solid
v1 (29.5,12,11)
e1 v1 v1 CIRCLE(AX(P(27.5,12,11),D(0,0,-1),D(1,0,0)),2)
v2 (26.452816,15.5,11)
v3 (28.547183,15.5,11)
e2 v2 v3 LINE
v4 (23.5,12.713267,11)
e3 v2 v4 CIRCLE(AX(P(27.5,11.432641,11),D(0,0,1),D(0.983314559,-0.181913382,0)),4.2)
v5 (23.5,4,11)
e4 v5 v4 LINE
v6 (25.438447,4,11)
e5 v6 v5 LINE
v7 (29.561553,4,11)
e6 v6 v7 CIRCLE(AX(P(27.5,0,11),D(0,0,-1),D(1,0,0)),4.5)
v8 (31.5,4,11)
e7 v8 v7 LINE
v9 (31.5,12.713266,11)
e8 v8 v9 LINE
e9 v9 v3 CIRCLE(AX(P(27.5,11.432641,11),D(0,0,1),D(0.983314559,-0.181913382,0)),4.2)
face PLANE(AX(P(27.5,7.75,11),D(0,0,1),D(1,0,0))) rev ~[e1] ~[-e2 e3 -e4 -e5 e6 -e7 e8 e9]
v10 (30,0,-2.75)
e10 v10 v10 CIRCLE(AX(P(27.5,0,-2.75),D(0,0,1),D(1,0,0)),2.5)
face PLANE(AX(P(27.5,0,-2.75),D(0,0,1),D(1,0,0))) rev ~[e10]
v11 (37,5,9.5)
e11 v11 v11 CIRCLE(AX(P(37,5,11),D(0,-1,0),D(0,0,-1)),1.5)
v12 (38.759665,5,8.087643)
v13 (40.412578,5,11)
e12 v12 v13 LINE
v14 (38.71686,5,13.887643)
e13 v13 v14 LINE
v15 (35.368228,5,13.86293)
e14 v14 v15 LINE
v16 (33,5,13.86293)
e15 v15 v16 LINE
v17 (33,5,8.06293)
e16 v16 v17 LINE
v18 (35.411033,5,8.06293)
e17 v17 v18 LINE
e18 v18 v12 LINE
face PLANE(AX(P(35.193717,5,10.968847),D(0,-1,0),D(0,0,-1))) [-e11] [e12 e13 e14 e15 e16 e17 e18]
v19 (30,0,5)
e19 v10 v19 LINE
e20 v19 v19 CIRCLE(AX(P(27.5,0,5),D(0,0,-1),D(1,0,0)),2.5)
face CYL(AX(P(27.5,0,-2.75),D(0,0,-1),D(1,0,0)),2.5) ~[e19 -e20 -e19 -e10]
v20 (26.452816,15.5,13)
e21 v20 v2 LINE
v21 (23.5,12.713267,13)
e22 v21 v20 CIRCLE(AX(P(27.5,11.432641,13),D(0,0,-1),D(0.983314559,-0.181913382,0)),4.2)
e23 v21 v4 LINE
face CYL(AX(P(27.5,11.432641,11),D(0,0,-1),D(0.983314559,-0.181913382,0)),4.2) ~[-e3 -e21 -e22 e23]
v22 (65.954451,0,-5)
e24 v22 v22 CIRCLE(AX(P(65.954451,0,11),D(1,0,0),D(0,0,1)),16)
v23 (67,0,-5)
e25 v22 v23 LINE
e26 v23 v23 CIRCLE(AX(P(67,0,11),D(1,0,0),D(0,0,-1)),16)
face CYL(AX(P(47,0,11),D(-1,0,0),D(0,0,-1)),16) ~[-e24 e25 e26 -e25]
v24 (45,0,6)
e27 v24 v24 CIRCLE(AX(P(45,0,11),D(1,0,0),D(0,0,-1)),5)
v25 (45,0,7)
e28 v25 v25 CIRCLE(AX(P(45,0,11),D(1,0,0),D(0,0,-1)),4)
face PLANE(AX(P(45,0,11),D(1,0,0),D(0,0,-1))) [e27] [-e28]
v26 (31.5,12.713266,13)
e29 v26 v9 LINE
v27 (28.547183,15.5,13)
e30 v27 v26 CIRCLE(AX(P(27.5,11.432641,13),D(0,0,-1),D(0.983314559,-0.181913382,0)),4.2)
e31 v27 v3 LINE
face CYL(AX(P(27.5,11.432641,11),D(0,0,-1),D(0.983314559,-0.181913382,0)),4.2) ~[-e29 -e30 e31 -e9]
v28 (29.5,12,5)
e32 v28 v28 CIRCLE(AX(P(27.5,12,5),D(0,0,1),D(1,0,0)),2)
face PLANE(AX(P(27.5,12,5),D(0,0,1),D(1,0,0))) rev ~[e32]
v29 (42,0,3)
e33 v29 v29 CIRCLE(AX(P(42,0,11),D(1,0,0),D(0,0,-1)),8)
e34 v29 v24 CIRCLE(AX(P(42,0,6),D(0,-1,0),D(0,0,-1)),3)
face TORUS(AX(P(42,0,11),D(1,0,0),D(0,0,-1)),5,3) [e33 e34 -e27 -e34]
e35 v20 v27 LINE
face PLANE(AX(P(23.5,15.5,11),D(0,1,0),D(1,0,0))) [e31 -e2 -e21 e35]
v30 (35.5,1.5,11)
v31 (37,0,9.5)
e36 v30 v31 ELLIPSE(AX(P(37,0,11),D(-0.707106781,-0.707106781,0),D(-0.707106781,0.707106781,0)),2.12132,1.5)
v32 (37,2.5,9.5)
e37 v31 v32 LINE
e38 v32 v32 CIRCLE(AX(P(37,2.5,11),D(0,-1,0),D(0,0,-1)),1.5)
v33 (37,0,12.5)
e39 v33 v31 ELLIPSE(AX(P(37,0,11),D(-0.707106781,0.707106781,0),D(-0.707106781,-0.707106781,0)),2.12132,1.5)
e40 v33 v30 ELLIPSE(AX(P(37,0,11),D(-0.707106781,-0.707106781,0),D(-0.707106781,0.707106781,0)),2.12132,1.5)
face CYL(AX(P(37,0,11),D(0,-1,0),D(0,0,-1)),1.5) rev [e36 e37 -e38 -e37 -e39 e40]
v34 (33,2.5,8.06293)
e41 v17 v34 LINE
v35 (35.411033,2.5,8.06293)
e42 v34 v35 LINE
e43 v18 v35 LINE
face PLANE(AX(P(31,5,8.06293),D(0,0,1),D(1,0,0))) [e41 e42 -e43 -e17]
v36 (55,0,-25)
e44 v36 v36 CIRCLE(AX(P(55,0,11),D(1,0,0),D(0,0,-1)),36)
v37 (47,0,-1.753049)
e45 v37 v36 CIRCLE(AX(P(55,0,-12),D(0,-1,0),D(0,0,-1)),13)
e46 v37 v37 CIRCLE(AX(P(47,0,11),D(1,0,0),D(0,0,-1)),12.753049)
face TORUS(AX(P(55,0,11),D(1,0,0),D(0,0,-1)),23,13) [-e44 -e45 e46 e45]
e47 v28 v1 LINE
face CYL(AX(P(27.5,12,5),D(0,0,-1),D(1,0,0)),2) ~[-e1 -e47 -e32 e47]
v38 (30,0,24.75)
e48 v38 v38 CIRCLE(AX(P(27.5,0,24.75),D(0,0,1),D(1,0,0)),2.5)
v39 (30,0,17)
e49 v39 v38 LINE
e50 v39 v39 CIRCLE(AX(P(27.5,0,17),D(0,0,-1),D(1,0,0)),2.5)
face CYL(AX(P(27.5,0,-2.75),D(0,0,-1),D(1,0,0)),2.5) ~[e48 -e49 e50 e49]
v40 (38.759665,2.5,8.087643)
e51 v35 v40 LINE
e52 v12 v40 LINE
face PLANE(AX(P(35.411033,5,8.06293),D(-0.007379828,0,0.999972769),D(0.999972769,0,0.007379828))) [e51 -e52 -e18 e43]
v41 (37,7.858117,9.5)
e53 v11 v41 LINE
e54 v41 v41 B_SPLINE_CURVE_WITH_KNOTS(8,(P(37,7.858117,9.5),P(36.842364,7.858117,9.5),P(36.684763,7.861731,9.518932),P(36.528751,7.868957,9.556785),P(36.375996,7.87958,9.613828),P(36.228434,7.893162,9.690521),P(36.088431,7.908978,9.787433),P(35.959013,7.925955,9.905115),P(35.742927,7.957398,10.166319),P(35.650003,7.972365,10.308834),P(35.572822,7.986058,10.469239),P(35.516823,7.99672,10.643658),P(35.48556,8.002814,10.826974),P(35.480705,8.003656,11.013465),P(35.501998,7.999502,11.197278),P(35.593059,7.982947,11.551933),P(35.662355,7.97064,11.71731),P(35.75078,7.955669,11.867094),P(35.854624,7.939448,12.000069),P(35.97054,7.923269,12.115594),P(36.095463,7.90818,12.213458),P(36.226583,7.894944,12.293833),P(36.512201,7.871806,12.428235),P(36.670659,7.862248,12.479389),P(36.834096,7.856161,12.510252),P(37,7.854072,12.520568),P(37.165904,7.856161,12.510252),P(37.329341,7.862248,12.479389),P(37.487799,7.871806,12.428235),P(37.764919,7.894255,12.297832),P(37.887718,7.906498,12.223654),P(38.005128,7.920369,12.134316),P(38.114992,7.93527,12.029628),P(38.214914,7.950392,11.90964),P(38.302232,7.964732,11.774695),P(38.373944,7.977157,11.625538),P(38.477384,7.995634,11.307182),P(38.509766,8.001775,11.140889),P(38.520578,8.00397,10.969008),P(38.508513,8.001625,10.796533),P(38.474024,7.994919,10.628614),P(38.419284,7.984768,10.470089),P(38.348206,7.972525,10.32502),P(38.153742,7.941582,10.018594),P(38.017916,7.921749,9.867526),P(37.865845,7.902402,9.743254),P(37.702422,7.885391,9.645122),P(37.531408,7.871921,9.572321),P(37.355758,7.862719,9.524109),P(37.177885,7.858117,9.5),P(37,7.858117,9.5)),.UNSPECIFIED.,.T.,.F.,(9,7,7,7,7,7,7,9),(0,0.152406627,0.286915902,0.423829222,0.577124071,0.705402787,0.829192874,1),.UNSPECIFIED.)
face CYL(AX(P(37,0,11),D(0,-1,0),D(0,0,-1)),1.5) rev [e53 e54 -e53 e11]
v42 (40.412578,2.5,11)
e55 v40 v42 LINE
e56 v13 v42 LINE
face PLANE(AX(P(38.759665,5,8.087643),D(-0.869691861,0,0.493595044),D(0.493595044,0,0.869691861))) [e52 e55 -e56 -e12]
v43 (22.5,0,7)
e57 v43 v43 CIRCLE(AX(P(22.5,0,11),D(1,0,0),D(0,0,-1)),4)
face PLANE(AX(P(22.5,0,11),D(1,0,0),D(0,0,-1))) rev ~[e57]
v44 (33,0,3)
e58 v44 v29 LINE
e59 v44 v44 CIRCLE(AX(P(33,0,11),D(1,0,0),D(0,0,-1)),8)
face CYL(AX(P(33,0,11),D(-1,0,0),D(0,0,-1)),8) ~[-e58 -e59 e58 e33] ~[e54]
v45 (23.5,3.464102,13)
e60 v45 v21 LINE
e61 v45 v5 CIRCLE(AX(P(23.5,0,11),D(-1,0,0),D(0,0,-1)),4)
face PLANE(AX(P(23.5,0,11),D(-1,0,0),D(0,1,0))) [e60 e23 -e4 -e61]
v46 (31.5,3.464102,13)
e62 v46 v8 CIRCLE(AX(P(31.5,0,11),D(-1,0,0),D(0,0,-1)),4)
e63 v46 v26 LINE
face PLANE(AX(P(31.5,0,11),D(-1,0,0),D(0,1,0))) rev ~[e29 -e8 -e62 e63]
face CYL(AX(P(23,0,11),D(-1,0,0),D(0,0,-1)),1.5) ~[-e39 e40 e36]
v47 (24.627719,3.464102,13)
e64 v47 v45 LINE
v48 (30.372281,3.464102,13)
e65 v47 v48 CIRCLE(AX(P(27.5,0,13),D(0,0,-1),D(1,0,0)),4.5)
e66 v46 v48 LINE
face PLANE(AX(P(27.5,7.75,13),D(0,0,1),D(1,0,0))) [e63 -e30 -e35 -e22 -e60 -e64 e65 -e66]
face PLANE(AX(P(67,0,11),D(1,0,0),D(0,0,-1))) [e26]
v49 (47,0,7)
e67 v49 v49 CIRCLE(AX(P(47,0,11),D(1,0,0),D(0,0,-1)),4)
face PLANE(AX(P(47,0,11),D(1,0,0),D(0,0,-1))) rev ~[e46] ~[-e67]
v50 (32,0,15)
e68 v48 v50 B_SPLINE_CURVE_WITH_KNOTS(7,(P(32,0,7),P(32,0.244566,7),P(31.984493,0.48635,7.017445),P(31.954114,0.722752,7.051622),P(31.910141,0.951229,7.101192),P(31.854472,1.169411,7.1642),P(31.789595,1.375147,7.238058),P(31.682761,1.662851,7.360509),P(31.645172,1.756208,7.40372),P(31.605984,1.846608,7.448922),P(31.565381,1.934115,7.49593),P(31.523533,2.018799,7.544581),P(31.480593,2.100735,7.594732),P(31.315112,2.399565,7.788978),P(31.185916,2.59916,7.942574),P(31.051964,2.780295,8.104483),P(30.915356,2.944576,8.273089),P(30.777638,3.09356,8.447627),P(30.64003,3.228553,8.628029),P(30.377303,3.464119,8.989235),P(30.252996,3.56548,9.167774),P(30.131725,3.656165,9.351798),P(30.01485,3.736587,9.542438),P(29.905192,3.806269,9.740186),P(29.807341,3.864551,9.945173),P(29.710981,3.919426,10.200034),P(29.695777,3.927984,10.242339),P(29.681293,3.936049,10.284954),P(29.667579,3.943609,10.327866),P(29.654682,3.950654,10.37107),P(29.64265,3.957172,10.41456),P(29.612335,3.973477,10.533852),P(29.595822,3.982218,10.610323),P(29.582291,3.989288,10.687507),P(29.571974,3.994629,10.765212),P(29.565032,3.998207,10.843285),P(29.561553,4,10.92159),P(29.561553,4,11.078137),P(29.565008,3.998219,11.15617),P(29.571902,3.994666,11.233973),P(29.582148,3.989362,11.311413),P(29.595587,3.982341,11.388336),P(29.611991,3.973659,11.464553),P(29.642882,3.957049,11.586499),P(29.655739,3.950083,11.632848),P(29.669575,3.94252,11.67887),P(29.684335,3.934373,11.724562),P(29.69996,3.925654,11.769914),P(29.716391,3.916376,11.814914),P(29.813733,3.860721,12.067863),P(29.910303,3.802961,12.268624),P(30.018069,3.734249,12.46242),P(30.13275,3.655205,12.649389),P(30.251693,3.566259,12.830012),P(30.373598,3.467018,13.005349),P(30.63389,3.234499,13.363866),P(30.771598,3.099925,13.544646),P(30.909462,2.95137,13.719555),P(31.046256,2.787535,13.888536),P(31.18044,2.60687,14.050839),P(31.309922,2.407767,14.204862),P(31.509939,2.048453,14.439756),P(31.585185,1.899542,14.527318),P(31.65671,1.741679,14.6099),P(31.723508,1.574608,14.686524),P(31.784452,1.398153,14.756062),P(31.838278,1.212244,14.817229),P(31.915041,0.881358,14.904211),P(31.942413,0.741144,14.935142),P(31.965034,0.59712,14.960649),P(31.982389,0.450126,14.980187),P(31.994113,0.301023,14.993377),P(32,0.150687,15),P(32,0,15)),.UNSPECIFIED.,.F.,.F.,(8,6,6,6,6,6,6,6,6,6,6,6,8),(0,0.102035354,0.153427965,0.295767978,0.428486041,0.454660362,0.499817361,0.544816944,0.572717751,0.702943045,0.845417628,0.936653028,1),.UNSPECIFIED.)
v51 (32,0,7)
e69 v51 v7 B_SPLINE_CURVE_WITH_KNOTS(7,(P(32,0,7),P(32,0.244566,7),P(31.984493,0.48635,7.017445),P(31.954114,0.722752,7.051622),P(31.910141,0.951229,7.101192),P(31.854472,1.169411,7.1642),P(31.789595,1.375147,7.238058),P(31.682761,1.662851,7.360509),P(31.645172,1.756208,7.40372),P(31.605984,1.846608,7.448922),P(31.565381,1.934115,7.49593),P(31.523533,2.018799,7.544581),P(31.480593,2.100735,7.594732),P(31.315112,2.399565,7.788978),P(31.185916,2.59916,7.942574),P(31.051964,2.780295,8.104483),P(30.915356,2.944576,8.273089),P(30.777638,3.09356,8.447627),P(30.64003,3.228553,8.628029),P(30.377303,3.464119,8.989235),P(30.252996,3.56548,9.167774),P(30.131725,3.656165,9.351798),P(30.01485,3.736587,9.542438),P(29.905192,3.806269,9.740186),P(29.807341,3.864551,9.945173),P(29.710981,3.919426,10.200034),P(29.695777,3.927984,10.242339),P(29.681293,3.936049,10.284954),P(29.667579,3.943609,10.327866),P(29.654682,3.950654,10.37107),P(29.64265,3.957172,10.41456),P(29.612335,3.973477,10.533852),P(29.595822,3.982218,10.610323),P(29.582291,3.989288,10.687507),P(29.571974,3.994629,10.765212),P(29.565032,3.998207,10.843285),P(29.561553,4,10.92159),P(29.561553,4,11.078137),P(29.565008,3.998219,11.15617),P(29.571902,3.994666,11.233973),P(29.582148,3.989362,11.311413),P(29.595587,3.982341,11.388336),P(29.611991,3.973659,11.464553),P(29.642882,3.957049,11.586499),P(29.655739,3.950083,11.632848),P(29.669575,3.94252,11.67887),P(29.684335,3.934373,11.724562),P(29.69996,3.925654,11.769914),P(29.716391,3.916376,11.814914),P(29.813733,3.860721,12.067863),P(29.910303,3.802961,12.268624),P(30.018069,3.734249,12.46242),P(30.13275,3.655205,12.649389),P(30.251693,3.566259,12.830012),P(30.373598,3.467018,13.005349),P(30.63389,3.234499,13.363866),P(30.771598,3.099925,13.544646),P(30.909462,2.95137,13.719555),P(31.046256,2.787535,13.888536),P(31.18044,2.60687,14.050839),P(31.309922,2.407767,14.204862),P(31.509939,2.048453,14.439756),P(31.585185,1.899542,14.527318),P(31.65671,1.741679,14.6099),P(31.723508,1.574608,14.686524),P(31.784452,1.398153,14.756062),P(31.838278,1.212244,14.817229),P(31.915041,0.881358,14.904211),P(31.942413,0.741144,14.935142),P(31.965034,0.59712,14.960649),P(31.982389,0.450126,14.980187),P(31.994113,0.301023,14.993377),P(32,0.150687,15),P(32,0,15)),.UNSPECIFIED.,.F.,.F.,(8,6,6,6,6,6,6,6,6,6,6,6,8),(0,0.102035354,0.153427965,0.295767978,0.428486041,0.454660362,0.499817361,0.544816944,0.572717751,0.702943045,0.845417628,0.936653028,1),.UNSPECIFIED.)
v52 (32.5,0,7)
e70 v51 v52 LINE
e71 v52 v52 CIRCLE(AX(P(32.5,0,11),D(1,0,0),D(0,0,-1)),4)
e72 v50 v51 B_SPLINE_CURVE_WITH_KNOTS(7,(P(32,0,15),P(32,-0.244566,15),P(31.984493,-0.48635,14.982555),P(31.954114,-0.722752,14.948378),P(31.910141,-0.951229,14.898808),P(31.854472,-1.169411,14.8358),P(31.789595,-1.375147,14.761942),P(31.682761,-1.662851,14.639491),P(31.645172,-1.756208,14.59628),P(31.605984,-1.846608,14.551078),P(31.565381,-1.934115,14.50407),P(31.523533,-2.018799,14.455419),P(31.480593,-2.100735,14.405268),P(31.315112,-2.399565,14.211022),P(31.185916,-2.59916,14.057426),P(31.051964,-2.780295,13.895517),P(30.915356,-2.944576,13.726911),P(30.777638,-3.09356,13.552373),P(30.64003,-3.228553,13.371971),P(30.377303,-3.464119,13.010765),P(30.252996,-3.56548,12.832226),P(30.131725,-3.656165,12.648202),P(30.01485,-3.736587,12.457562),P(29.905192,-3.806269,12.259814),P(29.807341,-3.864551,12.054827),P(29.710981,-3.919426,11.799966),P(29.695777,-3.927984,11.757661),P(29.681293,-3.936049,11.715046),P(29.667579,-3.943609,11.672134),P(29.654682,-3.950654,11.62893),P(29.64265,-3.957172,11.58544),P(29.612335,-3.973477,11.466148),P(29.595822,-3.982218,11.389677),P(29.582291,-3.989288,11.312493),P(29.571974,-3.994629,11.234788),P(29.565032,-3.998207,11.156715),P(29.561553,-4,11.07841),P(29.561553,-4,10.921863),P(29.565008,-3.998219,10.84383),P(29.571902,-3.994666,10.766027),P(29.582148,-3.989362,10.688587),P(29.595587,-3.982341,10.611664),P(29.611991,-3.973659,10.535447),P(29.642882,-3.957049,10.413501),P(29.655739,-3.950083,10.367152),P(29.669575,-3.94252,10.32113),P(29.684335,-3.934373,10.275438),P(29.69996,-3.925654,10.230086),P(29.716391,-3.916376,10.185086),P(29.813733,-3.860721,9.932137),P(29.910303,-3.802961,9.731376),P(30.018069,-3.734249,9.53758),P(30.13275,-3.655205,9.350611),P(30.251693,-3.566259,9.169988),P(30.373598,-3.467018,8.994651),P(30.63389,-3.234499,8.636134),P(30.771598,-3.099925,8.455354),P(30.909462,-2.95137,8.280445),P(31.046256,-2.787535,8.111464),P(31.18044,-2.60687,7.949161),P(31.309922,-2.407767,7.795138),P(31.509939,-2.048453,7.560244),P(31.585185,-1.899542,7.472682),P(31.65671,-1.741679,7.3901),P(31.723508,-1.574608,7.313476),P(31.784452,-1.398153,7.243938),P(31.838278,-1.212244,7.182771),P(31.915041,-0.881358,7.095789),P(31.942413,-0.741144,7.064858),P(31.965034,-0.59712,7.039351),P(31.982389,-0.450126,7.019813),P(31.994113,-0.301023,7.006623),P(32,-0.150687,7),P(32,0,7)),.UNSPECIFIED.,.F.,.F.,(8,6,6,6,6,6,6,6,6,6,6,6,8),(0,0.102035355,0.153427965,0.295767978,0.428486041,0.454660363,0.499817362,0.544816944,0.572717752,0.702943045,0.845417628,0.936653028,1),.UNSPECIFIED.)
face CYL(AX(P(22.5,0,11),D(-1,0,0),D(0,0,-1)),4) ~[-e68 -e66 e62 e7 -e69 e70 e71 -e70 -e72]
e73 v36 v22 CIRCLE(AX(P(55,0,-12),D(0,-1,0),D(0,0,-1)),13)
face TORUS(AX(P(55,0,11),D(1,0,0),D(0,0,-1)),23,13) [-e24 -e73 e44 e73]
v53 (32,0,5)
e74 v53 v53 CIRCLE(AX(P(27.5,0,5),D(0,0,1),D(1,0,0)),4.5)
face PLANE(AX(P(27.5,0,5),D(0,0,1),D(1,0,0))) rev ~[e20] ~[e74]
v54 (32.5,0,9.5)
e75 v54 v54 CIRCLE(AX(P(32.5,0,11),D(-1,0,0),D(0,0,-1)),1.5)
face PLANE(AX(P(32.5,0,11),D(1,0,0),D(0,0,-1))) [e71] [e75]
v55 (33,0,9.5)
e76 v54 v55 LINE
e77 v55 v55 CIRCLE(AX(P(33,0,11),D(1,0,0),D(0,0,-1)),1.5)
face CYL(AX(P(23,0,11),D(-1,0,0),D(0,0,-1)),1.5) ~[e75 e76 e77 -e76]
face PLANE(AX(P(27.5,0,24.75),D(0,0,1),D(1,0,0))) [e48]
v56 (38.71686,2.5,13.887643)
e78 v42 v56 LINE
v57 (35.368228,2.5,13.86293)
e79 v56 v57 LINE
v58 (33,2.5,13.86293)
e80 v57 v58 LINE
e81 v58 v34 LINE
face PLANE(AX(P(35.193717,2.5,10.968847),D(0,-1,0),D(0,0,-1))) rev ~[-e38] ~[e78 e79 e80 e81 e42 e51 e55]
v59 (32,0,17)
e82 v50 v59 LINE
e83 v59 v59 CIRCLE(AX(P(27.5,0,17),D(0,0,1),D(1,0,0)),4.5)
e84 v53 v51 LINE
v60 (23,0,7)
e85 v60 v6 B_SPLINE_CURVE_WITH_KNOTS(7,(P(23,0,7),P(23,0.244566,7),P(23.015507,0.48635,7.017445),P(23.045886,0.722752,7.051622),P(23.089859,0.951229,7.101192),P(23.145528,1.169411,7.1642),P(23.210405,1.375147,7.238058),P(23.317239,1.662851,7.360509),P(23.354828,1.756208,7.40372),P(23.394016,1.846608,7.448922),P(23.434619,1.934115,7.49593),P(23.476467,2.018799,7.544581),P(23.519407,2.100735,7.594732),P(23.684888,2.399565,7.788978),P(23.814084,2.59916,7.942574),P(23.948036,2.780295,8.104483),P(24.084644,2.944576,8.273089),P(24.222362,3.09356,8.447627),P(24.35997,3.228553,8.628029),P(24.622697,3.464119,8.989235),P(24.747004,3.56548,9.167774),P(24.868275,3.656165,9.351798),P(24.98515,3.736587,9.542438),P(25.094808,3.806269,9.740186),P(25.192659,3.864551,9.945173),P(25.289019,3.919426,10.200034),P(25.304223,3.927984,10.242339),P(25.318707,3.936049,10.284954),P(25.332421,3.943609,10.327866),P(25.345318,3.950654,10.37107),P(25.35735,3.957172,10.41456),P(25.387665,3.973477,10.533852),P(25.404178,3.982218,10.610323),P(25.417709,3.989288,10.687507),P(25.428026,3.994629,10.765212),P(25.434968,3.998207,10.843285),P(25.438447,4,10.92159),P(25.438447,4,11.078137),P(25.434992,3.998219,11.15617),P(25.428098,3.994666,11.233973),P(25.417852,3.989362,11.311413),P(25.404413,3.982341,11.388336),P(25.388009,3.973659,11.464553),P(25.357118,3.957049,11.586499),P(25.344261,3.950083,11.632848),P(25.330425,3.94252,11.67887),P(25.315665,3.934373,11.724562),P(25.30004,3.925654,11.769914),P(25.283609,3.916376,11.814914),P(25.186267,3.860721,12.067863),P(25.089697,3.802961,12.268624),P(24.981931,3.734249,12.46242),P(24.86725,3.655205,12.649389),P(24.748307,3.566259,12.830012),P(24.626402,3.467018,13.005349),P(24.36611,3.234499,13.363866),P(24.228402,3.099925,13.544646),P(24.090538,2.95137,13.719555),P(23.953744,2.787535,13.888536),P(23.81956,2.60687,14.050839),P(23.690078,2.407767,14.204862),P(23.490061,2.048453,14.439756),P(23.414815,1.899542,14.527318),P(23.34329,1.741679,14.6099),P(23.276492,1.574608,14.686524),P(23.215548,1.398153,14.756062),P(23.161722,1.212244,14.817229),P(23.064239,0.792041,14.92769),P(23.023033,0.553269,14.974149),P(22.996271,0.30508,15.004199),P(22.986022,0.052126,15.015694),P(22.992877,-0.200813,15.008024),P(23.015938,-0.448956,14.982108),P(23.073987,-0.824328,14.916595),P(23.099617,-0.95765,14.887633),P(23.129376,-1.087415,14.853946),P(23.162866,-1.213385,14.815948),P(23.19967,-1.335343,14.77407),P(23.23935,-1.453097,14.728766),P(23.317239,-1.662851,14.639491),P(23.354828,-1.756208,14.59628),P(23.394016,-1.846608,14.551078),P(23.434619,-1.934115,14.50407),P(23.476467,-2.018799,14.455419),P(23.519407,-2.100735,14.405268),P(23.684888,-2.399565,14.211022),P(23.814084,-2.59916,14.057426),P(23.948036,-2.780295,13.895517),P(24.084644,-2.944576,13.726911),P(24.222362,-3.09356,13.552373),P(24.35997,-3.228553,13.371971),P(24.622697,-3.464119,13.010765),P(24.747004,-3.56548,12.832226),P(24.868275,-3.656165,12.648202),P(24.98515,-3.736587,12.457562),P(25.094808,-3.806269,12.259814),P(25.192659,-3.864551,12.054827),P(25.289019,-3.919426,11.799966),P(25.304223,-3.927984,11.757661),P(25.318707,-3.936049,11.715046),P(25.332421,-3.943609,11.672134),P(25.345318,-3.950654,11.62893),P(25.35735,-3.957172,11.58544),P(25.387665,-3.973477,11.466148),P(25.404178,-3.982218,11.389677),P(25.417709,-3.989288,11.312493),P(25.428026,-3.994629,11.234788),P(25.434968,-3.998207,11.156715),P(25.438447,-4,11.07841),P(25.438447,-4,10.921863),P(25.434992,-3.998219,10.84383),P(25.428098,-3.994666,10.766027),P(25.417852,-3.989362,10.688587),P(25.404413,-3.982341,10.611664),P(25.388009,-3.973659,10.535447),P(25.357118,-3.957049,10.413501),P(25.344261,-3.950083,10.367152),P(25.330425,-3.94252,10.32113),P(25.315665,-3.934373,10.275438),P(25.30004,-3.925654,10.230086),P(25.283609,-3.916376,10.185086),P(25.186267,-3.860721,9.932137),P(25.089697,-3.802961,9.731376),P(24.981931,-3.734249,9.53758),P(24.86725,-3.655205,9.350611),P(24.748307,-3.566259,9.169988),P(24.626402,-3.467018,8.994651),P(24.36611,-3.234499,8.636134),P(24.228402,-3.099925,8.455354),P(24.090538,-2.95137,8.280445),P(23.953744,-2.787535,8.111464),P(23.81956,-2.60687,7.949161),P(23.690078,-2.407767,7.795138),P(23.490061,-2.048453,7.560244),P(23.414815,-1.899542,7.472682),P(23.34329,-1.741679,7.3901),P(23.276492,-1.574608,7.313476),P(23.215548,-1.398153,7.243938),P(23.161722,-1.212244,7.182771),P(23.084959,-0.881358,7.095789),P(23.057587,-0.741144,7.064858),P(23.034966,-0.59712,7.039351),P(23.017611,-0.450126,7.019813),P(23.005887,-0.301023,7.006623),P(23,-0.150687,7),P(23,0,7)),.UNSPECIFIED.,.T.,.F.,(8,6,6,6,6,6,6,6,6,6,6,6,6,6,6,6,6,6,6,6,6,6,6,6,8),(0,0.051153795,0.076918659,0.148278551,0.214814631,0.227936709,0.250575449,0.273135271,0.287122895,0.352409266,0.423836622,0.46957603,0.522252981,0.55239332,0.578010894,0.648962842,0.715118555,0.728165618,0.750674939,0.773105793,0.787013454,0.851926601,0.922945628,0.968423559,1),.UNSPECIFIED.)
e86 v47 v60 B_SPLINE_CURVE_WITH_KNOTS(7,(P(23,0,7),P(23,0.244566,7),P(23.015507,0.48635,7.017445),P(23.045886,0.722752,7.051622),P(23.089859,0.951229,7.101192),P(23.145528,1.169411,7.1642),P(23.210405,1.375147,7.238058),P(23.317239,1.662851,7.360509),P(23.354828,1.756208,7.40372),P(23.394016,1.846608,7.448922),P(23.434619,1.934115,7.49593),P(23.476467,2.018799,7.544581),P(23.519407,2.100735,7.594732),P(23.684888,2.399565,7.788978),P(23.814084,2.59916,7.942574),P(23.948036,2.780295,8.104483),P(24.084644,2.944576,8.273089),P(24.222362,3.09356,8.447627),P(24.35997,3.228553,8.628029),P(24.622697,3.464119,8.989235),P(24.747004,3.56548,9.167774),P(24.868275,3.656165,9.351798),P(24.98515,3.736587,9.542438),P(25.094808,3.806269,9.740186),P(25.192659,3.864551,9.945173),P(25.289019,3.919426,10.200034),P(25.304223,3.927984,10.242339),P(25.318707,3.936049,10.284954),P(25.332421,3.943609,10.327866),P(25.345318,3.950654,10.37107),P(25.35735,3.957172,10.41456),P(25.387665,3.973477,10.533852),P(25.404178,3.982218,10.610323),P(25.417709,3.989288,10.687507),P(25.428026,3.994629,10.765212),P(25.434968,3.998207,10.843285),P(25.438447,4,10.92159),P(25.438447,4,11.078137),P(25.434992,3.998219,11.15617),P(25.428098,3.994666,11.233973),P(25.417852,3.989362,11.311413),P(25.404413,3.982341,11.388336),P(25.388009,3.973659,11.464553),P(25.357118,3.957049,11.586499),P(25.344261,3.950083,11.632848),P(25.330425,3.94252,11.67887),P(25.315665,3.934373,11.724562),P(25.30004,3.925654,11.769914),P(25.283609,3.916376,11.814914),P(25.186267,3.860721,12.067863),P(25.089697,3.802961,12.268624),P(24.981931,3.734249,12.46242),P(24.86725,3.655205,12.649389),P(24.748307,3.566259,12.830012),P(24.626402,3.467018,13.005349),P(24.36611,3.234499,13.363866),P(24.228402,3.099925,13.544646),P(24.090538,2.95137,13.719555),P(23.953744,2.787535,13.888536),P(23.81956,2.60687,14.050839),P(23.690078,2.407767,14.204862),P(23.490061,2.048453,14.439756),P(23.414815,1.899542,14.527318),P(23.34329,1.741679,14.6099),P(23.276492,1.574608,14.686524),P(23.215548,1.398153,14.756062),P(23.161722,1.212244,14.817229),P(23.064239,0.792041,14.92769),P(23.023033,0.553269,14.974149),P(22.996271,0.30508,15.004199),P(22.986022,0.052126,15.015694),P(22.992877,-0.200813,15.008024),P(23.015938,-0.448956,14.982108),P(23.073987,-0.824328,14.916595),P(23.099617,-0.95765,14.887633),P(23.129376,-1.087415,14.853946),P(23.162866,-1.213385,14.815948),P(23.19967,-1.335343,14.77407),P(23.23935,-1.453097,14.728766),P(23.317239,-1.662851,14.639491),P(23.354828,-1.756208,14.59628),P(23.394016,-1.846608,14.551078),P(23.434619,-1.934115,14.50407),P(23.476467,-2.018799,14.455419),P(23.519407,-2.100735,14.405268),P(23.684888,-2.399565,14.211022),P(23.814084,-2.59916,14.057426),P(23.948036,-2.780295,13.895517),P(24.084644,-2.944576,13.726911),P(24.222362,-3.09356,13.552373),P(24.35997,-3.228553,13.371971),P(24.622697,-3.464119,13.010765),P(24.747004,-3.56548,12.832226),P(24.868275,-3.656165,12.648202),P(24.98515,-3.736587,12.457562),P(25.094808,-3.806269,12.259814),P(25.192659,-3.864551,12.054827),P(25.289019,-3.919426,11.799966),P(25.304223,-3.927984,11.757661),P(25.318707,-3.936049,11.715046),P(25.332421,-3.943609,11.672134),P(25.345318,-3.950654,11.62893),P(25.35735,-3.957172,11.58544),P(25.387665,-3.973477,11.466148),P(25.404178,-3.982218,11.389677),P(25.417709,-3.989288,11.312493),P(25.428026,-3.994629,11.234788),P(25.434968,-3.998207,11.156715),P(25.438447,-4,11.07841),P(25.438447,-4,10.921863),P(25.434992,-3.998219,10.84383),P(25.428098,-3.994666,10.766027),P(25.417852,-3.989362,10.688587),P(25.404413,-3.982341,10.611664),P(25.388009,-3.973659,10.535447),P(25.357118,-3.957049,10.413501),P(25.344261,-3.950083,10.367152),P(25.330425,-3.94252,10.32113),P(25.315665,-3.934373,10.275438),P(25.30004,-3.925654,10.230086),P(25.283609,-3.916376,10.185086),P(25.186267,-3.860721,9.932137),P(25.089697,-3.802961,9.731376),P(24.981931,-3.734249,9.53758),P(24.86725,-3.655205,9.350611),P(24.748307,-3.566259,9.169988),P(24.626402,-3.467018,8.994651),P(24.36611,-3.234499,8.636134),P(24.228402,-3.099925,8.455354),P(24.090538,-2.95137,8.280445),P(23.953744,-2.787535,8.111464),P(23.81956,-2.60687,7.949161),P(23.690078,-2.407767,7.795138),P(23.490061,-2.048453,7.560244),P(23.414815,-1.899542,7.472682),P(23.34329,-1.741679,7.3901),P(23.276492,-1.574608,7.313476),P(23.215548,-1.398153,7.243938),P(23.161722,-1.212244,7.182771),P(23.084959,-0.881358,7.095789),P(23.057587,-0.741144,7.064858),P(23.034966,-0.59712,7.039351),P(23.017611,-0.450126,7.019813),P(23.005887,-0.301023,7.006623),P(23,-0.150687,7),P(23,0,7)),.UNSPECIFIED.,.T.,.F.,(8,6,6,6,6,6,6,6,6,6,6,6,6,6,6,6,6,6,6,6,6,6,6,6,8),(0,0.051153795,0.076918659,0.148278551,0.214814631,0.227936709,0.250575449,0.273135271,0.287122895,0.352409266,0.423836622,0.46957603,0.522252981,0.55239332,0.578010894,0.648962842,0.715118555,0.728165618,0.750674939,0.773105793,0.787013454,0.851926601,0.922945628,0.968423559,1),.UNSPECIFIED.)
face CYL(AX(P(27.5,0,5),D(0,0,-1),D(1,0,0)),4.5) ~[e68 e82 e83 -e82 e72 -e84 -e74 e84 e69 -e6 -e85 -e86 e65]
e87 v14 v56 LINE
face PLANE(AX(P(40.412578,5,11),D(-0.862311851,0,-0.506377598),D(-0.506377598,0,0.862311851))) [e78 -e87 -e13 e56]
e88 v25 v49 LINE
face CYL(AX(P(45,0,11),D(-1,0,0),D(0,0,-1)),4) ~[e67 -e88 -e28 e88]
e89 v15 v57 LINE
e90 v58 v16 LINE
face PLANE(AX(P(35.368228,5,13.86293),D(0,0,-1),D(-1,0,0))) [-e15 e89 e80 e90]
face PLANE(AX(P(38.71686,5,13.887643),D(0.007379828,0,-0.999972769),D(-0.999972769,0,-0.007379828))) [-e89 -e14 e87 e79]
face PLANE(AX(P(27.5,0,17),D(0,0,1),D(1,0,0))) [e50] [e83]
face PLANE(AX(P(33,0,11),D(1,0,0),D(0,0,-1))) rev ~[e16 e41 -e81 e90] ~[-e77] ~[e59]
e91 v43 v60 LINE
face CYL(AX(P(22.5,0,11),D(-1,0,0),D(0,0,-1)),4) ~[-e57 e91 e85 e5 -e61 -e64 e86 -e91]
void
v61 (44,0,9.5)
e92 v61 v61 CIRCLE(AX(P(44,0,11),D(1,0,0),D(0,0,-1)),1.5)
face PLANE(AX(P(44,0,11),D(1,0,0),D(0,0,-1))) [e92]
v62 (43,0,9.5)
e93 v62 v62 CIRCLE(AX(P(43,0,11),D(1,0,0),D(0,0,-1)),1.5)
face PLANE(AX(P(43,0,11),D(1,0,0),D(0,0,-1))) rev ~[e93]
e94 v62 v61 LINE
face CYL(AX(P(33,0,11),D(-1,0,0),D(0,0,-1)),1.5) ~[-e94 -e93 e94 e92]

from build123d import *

# Parameters (mm, degrees)
TORUS001_R                = 13
CYLINDER001_R             = 4.5
CYLINDER001_DEPTH         = 12
CYLINDER002_R             = 4
CYLINDER002_DEPTH         = 10
PAD001_DEPTH              = 10
BOX_W                     = 8
BOX_H                     = 15.5
BOX_DEPTH                 = 2
CYLINDER004_R             = 2
CYLINDER004_DEPTH         = 7.5
CYLINDER_R                = 2.5
CYLINDER_DEPTH            = 27.5
CYLINDER003_R             = 1.5
CYLINDER003_DEPTH         = 20
CYLINDER016_R             = 4
CYLINDER016_DEPTH         = 2
BOX003_W                  = 4.6
BOX003_H                  = 1.7
BOX003_DEPTH              = 15
FILLET001_R               = 1
BOX002_W                  = 1.7
BOX002_H                  = 4.6
BOX002_DEPTH              = 15
FILLET_R                  = 1
CYLINDER017_R             = 1.5
CYLINDER017_DEPTH         = 10
PAD003_DEPTH              = 2.5
CYLINDER015_R             = 1.5
CYLINDER015_DEPTH         = 11
CYLINDER014_R             = 8
CYLINDER014_DEPTH         = 12
FILLET002_R               = 3
FUSION005_PLACEMENT_ANGLE = 90
CYLINDER012_R             = 16
CYLINDER012_DEPTH         = 20


with BuildPart() as toro001:
    # Torus001 → Torus001 (revolve)
    with BuildSketch(Plane(origin=(55, 0, 11), x_dir=(0, 0, -1), z_dir=(0, -1, 0))):
        with Locations((23, 0)):
            Circle(TORUS001_R)
    revolve(axis=Axis((55, 0, 11), (1, 0, 0)))


with BuildPart() as cilindro001:
    # Cylinder001 → Cylinder001 (new body)
    with BuildSketch(Plane.XY.offset(-6)):
        Circle(CYLINDER001_R)
    extrude(amount=CYLINDER001_DEPTH)


with BuildPart() as cilindro002:
    # Cylinder002 → Cylinder002 (new body)
    with BuildSketch(Plane(origin=(-5, 0, 0), x_dir=(0, 0, -1), z_dir=(1, 0, 0))):
        Circle(CYLINDER002_R)
    extrude(amount=CYLINDER002_DEPTH)


with BuildPart() as pad001:
    # Sketch001 → Pad001 (new body)
    with BuildSketch(Plane.XY):
        with BuildLine():
            ThreePointArc((4.129921, 10.668605), (-0.003253, 15.63264), (-4.128733, 10.662209))
            Line((-5.229172, 10.780737), (-4.128733, 10.662209))
            Line((-5.229172, 16.944185), (-5.229172, 10.780737))
            Line((5.596368, 16.944185), (-5.229172, 16.944185))
            Line((5.596368, 10.638987), (5.596368, 16.944185))
            Line((4.124442, 10.638987), (5.596368, 10.638987))
            Line((4.129921, 10.668605), (4.124442, 10.638987))
        make_face()
    extrude(amount=PAD001_DEPTH)


with BuildPart() as cut:
    # Box → Box (new body)
    with BuildSketch(Plane(origin=(-4, 0, 0), x_dir=(1, 0, 0), z_dir=(0, 0, 1))):
        with Locations((4, 7.75)):
            Rectangle(BOX_W, BOX_H)
    extrude(amount=BOX_DEPTH)

    # Cut: cut Pad001
    add(pad001.part, mode=Mode.SUBTRACT)


with BuildPart() as cilindro004:
    # Cylinder004 → Cylinder004 (new body)
    with BuildSketch(Plane(origin=(0, 12, -6), x_dir=(1, 0, 0), z_dir=(0, 0, 1))):
        Circle(CYLINDER004_R)
    extrude(amount=CYLINDER004_DEPTH)


with BuildPart() as fusion:
    # Cylinder → Cylinder (new body)
    with BuildSketch(Plane.XY.offset(-13.75)):
        Circle(CYLINDER_R)
    extrude(amount=CYLINDER_DEPTH)

    # Fusion: union Cilindro001, Cilindro002, Cut, Cilindro004
    add(cilindro001.part)
    add(cilindro002.part)
    add(cut.part)
    add(cilindro004.part)


with BuildPart() as fusion_1:
    # Fusion placement: moved
    add(fusion.part.moved(Location((27.5, 0, 11))))


with BuildPart() as cylinder003:
    # Cylinder003 → Cylinder003 (new body)
    with BuildSketch(Plane(origin=(23, 0, 11), x_dir=(0, 0, -1), z_dir=(1, 0, 0))):
        Circle(CYLINDER003_R)
    extrude(amount=CYLINDER003_DEPTH)


with BuildPart() as cilindro014:
    # Cylinder016 → Cylinder016 (new body)
    with BuildSketch(Plane.XY.offset(12)):
        Circle(CYLINDER016_R)
    extrude(amount=CYLINDER016_DEPTH)


with BuildPart() as fillet001:
    # Box003 → Box003 (new body)
    with BuildSketch(Plane(origin=(-2.3, -0.85, 22), x_dir=(1, 0, 0), z_dir=(0, 0, 1))):
        with Locations((2.3, 0.85)):
            Rectangle(BOX003_W, BOX003_H)
    extrude(amount=BOX003_DEPTH)

    # Fillet001
    fillet001_edges = [fillet001.edges().sort_by_distance(p)[0] for p in [
        (-2.3, 0, 37),
        (2.3, 0, 37),
    ]]
    fillet(fillet001_edges, radius=FILLET001_R)


with BuildPart() as fusion003:
    # Box002 → Box002 (new body)
    with BuildSketch(Plane(origin=(-0.85, -2.3, 22), x_dir=(1, 0, 0), z_dir=(0, 0, 1))):
        with Locations((0.85, 2.3)):
            Rectangle(BOX002_W, BOX002_H)
    extrude(amount=BOX002_DEPTH)

    # Fillet
    fillet_edges = [fusion003.edges().sort_by_distance(p)[0] for p in [
        (0, -2.3, 37),
        (0, 2.3, 37),
    ]]
    fillet(fillet_edges, radius=FILLET_R)

    # Fusion003: union Fillet001
    add(fillet001.part)


with BuildPart() as fusion003_1:
    # Fusion003 placement: moved
    add(fusion003.part.moved(Location((0, 0, -8))))


with BuildPart() as taladro_tornillo:
    # Cylinder017 → Cylinder017 (new body)
    with BuildSketch(Plane(origin=(0, 0, 4), x_dir=(1, 0, 0), z_dir=(0, 1, 0))):
        Circle(CYLINDER017_R)
    extrude(amount=CYLINDER017_DEPTH)


with BuildPart() as tuerca:
    # Sketch004 → Pad003 (new body)
    with BuildSketch(Plane(origin=(0, 5, -2), x_dir=(1, 0, 0), z_dir=(0, -1, 0))):
        Polygon((0, 9.412578), (-2.887643, 7.71686), (-2.86293, 4.368228), (-2.86293, 0), (2.93707, 0), (2.93707, 4.411033), (2.912357, 7.759665), align=None)
    extrude(amount=PAD003_DEPTH)


with BuildPart() as hueco:
    # Cylinder015 → Cylinder015 (new body)
    with BuildSketch(Plane.XY):
        Circle(CYLINDER015_R)
    extrude(amount=CYLINDER015_DEPTH)

    # Fusion004: union Taladro tornillo, Tuerca
    add(taladro_tornillo.part)
    add(tuerca.part)


with BuildPart() as fusion005:
    # Cylinder014 → Cylinder014 (new body)
    with BuildSketch(Plane.XY):
        Circle(CYLINDER014_R)
    extrude(amount=CYLINDER014_DEPTH)

    # Fillet002
    fillet002_edges = [fusion005.edges().sort_by_distance(p)[0] for p in [
        (-8, 0, 12),
    ]]
    fillet(fillet002_edges, radius=FILLET002_R)

    # Cut003: cut Hueco
    add(hueco.part, mode=Mode.SUBTRACT)

    # Fusion005: union Cilindro014, Fusion003
    add(cilindro014.part)
    add(fusion003_1.part)


with BuildPart() as fusion005_1:
    # Fusion005 placement: moved
    add(fusion005.part.moved(Location((33, 0, 11))).rotate(Axis((33, 0, 11), (0, 1, 0)), FUSION005_PLACEMENT_ANGLE))


with BuildPart() as fusion010:
    # Cylinder012 → Cylinder012 (new body)
    with BuildSketch(Plane(origin=(47, 0, 11), x_dir=(0, 0, -1), z_dir=(1, 0, 0))):
        Circle(CYLINDER012_R)
    extrude(amount=CYLINDER012_DEPTH)

    # Fusion010: union Toro001, Fusion, Cylinder003, Fusion005
    add(toro001.part)
    add(fusion_1.part)
    add(cylinder003.part)
    add(fusion005_1.part)


solid = fusion010.part
